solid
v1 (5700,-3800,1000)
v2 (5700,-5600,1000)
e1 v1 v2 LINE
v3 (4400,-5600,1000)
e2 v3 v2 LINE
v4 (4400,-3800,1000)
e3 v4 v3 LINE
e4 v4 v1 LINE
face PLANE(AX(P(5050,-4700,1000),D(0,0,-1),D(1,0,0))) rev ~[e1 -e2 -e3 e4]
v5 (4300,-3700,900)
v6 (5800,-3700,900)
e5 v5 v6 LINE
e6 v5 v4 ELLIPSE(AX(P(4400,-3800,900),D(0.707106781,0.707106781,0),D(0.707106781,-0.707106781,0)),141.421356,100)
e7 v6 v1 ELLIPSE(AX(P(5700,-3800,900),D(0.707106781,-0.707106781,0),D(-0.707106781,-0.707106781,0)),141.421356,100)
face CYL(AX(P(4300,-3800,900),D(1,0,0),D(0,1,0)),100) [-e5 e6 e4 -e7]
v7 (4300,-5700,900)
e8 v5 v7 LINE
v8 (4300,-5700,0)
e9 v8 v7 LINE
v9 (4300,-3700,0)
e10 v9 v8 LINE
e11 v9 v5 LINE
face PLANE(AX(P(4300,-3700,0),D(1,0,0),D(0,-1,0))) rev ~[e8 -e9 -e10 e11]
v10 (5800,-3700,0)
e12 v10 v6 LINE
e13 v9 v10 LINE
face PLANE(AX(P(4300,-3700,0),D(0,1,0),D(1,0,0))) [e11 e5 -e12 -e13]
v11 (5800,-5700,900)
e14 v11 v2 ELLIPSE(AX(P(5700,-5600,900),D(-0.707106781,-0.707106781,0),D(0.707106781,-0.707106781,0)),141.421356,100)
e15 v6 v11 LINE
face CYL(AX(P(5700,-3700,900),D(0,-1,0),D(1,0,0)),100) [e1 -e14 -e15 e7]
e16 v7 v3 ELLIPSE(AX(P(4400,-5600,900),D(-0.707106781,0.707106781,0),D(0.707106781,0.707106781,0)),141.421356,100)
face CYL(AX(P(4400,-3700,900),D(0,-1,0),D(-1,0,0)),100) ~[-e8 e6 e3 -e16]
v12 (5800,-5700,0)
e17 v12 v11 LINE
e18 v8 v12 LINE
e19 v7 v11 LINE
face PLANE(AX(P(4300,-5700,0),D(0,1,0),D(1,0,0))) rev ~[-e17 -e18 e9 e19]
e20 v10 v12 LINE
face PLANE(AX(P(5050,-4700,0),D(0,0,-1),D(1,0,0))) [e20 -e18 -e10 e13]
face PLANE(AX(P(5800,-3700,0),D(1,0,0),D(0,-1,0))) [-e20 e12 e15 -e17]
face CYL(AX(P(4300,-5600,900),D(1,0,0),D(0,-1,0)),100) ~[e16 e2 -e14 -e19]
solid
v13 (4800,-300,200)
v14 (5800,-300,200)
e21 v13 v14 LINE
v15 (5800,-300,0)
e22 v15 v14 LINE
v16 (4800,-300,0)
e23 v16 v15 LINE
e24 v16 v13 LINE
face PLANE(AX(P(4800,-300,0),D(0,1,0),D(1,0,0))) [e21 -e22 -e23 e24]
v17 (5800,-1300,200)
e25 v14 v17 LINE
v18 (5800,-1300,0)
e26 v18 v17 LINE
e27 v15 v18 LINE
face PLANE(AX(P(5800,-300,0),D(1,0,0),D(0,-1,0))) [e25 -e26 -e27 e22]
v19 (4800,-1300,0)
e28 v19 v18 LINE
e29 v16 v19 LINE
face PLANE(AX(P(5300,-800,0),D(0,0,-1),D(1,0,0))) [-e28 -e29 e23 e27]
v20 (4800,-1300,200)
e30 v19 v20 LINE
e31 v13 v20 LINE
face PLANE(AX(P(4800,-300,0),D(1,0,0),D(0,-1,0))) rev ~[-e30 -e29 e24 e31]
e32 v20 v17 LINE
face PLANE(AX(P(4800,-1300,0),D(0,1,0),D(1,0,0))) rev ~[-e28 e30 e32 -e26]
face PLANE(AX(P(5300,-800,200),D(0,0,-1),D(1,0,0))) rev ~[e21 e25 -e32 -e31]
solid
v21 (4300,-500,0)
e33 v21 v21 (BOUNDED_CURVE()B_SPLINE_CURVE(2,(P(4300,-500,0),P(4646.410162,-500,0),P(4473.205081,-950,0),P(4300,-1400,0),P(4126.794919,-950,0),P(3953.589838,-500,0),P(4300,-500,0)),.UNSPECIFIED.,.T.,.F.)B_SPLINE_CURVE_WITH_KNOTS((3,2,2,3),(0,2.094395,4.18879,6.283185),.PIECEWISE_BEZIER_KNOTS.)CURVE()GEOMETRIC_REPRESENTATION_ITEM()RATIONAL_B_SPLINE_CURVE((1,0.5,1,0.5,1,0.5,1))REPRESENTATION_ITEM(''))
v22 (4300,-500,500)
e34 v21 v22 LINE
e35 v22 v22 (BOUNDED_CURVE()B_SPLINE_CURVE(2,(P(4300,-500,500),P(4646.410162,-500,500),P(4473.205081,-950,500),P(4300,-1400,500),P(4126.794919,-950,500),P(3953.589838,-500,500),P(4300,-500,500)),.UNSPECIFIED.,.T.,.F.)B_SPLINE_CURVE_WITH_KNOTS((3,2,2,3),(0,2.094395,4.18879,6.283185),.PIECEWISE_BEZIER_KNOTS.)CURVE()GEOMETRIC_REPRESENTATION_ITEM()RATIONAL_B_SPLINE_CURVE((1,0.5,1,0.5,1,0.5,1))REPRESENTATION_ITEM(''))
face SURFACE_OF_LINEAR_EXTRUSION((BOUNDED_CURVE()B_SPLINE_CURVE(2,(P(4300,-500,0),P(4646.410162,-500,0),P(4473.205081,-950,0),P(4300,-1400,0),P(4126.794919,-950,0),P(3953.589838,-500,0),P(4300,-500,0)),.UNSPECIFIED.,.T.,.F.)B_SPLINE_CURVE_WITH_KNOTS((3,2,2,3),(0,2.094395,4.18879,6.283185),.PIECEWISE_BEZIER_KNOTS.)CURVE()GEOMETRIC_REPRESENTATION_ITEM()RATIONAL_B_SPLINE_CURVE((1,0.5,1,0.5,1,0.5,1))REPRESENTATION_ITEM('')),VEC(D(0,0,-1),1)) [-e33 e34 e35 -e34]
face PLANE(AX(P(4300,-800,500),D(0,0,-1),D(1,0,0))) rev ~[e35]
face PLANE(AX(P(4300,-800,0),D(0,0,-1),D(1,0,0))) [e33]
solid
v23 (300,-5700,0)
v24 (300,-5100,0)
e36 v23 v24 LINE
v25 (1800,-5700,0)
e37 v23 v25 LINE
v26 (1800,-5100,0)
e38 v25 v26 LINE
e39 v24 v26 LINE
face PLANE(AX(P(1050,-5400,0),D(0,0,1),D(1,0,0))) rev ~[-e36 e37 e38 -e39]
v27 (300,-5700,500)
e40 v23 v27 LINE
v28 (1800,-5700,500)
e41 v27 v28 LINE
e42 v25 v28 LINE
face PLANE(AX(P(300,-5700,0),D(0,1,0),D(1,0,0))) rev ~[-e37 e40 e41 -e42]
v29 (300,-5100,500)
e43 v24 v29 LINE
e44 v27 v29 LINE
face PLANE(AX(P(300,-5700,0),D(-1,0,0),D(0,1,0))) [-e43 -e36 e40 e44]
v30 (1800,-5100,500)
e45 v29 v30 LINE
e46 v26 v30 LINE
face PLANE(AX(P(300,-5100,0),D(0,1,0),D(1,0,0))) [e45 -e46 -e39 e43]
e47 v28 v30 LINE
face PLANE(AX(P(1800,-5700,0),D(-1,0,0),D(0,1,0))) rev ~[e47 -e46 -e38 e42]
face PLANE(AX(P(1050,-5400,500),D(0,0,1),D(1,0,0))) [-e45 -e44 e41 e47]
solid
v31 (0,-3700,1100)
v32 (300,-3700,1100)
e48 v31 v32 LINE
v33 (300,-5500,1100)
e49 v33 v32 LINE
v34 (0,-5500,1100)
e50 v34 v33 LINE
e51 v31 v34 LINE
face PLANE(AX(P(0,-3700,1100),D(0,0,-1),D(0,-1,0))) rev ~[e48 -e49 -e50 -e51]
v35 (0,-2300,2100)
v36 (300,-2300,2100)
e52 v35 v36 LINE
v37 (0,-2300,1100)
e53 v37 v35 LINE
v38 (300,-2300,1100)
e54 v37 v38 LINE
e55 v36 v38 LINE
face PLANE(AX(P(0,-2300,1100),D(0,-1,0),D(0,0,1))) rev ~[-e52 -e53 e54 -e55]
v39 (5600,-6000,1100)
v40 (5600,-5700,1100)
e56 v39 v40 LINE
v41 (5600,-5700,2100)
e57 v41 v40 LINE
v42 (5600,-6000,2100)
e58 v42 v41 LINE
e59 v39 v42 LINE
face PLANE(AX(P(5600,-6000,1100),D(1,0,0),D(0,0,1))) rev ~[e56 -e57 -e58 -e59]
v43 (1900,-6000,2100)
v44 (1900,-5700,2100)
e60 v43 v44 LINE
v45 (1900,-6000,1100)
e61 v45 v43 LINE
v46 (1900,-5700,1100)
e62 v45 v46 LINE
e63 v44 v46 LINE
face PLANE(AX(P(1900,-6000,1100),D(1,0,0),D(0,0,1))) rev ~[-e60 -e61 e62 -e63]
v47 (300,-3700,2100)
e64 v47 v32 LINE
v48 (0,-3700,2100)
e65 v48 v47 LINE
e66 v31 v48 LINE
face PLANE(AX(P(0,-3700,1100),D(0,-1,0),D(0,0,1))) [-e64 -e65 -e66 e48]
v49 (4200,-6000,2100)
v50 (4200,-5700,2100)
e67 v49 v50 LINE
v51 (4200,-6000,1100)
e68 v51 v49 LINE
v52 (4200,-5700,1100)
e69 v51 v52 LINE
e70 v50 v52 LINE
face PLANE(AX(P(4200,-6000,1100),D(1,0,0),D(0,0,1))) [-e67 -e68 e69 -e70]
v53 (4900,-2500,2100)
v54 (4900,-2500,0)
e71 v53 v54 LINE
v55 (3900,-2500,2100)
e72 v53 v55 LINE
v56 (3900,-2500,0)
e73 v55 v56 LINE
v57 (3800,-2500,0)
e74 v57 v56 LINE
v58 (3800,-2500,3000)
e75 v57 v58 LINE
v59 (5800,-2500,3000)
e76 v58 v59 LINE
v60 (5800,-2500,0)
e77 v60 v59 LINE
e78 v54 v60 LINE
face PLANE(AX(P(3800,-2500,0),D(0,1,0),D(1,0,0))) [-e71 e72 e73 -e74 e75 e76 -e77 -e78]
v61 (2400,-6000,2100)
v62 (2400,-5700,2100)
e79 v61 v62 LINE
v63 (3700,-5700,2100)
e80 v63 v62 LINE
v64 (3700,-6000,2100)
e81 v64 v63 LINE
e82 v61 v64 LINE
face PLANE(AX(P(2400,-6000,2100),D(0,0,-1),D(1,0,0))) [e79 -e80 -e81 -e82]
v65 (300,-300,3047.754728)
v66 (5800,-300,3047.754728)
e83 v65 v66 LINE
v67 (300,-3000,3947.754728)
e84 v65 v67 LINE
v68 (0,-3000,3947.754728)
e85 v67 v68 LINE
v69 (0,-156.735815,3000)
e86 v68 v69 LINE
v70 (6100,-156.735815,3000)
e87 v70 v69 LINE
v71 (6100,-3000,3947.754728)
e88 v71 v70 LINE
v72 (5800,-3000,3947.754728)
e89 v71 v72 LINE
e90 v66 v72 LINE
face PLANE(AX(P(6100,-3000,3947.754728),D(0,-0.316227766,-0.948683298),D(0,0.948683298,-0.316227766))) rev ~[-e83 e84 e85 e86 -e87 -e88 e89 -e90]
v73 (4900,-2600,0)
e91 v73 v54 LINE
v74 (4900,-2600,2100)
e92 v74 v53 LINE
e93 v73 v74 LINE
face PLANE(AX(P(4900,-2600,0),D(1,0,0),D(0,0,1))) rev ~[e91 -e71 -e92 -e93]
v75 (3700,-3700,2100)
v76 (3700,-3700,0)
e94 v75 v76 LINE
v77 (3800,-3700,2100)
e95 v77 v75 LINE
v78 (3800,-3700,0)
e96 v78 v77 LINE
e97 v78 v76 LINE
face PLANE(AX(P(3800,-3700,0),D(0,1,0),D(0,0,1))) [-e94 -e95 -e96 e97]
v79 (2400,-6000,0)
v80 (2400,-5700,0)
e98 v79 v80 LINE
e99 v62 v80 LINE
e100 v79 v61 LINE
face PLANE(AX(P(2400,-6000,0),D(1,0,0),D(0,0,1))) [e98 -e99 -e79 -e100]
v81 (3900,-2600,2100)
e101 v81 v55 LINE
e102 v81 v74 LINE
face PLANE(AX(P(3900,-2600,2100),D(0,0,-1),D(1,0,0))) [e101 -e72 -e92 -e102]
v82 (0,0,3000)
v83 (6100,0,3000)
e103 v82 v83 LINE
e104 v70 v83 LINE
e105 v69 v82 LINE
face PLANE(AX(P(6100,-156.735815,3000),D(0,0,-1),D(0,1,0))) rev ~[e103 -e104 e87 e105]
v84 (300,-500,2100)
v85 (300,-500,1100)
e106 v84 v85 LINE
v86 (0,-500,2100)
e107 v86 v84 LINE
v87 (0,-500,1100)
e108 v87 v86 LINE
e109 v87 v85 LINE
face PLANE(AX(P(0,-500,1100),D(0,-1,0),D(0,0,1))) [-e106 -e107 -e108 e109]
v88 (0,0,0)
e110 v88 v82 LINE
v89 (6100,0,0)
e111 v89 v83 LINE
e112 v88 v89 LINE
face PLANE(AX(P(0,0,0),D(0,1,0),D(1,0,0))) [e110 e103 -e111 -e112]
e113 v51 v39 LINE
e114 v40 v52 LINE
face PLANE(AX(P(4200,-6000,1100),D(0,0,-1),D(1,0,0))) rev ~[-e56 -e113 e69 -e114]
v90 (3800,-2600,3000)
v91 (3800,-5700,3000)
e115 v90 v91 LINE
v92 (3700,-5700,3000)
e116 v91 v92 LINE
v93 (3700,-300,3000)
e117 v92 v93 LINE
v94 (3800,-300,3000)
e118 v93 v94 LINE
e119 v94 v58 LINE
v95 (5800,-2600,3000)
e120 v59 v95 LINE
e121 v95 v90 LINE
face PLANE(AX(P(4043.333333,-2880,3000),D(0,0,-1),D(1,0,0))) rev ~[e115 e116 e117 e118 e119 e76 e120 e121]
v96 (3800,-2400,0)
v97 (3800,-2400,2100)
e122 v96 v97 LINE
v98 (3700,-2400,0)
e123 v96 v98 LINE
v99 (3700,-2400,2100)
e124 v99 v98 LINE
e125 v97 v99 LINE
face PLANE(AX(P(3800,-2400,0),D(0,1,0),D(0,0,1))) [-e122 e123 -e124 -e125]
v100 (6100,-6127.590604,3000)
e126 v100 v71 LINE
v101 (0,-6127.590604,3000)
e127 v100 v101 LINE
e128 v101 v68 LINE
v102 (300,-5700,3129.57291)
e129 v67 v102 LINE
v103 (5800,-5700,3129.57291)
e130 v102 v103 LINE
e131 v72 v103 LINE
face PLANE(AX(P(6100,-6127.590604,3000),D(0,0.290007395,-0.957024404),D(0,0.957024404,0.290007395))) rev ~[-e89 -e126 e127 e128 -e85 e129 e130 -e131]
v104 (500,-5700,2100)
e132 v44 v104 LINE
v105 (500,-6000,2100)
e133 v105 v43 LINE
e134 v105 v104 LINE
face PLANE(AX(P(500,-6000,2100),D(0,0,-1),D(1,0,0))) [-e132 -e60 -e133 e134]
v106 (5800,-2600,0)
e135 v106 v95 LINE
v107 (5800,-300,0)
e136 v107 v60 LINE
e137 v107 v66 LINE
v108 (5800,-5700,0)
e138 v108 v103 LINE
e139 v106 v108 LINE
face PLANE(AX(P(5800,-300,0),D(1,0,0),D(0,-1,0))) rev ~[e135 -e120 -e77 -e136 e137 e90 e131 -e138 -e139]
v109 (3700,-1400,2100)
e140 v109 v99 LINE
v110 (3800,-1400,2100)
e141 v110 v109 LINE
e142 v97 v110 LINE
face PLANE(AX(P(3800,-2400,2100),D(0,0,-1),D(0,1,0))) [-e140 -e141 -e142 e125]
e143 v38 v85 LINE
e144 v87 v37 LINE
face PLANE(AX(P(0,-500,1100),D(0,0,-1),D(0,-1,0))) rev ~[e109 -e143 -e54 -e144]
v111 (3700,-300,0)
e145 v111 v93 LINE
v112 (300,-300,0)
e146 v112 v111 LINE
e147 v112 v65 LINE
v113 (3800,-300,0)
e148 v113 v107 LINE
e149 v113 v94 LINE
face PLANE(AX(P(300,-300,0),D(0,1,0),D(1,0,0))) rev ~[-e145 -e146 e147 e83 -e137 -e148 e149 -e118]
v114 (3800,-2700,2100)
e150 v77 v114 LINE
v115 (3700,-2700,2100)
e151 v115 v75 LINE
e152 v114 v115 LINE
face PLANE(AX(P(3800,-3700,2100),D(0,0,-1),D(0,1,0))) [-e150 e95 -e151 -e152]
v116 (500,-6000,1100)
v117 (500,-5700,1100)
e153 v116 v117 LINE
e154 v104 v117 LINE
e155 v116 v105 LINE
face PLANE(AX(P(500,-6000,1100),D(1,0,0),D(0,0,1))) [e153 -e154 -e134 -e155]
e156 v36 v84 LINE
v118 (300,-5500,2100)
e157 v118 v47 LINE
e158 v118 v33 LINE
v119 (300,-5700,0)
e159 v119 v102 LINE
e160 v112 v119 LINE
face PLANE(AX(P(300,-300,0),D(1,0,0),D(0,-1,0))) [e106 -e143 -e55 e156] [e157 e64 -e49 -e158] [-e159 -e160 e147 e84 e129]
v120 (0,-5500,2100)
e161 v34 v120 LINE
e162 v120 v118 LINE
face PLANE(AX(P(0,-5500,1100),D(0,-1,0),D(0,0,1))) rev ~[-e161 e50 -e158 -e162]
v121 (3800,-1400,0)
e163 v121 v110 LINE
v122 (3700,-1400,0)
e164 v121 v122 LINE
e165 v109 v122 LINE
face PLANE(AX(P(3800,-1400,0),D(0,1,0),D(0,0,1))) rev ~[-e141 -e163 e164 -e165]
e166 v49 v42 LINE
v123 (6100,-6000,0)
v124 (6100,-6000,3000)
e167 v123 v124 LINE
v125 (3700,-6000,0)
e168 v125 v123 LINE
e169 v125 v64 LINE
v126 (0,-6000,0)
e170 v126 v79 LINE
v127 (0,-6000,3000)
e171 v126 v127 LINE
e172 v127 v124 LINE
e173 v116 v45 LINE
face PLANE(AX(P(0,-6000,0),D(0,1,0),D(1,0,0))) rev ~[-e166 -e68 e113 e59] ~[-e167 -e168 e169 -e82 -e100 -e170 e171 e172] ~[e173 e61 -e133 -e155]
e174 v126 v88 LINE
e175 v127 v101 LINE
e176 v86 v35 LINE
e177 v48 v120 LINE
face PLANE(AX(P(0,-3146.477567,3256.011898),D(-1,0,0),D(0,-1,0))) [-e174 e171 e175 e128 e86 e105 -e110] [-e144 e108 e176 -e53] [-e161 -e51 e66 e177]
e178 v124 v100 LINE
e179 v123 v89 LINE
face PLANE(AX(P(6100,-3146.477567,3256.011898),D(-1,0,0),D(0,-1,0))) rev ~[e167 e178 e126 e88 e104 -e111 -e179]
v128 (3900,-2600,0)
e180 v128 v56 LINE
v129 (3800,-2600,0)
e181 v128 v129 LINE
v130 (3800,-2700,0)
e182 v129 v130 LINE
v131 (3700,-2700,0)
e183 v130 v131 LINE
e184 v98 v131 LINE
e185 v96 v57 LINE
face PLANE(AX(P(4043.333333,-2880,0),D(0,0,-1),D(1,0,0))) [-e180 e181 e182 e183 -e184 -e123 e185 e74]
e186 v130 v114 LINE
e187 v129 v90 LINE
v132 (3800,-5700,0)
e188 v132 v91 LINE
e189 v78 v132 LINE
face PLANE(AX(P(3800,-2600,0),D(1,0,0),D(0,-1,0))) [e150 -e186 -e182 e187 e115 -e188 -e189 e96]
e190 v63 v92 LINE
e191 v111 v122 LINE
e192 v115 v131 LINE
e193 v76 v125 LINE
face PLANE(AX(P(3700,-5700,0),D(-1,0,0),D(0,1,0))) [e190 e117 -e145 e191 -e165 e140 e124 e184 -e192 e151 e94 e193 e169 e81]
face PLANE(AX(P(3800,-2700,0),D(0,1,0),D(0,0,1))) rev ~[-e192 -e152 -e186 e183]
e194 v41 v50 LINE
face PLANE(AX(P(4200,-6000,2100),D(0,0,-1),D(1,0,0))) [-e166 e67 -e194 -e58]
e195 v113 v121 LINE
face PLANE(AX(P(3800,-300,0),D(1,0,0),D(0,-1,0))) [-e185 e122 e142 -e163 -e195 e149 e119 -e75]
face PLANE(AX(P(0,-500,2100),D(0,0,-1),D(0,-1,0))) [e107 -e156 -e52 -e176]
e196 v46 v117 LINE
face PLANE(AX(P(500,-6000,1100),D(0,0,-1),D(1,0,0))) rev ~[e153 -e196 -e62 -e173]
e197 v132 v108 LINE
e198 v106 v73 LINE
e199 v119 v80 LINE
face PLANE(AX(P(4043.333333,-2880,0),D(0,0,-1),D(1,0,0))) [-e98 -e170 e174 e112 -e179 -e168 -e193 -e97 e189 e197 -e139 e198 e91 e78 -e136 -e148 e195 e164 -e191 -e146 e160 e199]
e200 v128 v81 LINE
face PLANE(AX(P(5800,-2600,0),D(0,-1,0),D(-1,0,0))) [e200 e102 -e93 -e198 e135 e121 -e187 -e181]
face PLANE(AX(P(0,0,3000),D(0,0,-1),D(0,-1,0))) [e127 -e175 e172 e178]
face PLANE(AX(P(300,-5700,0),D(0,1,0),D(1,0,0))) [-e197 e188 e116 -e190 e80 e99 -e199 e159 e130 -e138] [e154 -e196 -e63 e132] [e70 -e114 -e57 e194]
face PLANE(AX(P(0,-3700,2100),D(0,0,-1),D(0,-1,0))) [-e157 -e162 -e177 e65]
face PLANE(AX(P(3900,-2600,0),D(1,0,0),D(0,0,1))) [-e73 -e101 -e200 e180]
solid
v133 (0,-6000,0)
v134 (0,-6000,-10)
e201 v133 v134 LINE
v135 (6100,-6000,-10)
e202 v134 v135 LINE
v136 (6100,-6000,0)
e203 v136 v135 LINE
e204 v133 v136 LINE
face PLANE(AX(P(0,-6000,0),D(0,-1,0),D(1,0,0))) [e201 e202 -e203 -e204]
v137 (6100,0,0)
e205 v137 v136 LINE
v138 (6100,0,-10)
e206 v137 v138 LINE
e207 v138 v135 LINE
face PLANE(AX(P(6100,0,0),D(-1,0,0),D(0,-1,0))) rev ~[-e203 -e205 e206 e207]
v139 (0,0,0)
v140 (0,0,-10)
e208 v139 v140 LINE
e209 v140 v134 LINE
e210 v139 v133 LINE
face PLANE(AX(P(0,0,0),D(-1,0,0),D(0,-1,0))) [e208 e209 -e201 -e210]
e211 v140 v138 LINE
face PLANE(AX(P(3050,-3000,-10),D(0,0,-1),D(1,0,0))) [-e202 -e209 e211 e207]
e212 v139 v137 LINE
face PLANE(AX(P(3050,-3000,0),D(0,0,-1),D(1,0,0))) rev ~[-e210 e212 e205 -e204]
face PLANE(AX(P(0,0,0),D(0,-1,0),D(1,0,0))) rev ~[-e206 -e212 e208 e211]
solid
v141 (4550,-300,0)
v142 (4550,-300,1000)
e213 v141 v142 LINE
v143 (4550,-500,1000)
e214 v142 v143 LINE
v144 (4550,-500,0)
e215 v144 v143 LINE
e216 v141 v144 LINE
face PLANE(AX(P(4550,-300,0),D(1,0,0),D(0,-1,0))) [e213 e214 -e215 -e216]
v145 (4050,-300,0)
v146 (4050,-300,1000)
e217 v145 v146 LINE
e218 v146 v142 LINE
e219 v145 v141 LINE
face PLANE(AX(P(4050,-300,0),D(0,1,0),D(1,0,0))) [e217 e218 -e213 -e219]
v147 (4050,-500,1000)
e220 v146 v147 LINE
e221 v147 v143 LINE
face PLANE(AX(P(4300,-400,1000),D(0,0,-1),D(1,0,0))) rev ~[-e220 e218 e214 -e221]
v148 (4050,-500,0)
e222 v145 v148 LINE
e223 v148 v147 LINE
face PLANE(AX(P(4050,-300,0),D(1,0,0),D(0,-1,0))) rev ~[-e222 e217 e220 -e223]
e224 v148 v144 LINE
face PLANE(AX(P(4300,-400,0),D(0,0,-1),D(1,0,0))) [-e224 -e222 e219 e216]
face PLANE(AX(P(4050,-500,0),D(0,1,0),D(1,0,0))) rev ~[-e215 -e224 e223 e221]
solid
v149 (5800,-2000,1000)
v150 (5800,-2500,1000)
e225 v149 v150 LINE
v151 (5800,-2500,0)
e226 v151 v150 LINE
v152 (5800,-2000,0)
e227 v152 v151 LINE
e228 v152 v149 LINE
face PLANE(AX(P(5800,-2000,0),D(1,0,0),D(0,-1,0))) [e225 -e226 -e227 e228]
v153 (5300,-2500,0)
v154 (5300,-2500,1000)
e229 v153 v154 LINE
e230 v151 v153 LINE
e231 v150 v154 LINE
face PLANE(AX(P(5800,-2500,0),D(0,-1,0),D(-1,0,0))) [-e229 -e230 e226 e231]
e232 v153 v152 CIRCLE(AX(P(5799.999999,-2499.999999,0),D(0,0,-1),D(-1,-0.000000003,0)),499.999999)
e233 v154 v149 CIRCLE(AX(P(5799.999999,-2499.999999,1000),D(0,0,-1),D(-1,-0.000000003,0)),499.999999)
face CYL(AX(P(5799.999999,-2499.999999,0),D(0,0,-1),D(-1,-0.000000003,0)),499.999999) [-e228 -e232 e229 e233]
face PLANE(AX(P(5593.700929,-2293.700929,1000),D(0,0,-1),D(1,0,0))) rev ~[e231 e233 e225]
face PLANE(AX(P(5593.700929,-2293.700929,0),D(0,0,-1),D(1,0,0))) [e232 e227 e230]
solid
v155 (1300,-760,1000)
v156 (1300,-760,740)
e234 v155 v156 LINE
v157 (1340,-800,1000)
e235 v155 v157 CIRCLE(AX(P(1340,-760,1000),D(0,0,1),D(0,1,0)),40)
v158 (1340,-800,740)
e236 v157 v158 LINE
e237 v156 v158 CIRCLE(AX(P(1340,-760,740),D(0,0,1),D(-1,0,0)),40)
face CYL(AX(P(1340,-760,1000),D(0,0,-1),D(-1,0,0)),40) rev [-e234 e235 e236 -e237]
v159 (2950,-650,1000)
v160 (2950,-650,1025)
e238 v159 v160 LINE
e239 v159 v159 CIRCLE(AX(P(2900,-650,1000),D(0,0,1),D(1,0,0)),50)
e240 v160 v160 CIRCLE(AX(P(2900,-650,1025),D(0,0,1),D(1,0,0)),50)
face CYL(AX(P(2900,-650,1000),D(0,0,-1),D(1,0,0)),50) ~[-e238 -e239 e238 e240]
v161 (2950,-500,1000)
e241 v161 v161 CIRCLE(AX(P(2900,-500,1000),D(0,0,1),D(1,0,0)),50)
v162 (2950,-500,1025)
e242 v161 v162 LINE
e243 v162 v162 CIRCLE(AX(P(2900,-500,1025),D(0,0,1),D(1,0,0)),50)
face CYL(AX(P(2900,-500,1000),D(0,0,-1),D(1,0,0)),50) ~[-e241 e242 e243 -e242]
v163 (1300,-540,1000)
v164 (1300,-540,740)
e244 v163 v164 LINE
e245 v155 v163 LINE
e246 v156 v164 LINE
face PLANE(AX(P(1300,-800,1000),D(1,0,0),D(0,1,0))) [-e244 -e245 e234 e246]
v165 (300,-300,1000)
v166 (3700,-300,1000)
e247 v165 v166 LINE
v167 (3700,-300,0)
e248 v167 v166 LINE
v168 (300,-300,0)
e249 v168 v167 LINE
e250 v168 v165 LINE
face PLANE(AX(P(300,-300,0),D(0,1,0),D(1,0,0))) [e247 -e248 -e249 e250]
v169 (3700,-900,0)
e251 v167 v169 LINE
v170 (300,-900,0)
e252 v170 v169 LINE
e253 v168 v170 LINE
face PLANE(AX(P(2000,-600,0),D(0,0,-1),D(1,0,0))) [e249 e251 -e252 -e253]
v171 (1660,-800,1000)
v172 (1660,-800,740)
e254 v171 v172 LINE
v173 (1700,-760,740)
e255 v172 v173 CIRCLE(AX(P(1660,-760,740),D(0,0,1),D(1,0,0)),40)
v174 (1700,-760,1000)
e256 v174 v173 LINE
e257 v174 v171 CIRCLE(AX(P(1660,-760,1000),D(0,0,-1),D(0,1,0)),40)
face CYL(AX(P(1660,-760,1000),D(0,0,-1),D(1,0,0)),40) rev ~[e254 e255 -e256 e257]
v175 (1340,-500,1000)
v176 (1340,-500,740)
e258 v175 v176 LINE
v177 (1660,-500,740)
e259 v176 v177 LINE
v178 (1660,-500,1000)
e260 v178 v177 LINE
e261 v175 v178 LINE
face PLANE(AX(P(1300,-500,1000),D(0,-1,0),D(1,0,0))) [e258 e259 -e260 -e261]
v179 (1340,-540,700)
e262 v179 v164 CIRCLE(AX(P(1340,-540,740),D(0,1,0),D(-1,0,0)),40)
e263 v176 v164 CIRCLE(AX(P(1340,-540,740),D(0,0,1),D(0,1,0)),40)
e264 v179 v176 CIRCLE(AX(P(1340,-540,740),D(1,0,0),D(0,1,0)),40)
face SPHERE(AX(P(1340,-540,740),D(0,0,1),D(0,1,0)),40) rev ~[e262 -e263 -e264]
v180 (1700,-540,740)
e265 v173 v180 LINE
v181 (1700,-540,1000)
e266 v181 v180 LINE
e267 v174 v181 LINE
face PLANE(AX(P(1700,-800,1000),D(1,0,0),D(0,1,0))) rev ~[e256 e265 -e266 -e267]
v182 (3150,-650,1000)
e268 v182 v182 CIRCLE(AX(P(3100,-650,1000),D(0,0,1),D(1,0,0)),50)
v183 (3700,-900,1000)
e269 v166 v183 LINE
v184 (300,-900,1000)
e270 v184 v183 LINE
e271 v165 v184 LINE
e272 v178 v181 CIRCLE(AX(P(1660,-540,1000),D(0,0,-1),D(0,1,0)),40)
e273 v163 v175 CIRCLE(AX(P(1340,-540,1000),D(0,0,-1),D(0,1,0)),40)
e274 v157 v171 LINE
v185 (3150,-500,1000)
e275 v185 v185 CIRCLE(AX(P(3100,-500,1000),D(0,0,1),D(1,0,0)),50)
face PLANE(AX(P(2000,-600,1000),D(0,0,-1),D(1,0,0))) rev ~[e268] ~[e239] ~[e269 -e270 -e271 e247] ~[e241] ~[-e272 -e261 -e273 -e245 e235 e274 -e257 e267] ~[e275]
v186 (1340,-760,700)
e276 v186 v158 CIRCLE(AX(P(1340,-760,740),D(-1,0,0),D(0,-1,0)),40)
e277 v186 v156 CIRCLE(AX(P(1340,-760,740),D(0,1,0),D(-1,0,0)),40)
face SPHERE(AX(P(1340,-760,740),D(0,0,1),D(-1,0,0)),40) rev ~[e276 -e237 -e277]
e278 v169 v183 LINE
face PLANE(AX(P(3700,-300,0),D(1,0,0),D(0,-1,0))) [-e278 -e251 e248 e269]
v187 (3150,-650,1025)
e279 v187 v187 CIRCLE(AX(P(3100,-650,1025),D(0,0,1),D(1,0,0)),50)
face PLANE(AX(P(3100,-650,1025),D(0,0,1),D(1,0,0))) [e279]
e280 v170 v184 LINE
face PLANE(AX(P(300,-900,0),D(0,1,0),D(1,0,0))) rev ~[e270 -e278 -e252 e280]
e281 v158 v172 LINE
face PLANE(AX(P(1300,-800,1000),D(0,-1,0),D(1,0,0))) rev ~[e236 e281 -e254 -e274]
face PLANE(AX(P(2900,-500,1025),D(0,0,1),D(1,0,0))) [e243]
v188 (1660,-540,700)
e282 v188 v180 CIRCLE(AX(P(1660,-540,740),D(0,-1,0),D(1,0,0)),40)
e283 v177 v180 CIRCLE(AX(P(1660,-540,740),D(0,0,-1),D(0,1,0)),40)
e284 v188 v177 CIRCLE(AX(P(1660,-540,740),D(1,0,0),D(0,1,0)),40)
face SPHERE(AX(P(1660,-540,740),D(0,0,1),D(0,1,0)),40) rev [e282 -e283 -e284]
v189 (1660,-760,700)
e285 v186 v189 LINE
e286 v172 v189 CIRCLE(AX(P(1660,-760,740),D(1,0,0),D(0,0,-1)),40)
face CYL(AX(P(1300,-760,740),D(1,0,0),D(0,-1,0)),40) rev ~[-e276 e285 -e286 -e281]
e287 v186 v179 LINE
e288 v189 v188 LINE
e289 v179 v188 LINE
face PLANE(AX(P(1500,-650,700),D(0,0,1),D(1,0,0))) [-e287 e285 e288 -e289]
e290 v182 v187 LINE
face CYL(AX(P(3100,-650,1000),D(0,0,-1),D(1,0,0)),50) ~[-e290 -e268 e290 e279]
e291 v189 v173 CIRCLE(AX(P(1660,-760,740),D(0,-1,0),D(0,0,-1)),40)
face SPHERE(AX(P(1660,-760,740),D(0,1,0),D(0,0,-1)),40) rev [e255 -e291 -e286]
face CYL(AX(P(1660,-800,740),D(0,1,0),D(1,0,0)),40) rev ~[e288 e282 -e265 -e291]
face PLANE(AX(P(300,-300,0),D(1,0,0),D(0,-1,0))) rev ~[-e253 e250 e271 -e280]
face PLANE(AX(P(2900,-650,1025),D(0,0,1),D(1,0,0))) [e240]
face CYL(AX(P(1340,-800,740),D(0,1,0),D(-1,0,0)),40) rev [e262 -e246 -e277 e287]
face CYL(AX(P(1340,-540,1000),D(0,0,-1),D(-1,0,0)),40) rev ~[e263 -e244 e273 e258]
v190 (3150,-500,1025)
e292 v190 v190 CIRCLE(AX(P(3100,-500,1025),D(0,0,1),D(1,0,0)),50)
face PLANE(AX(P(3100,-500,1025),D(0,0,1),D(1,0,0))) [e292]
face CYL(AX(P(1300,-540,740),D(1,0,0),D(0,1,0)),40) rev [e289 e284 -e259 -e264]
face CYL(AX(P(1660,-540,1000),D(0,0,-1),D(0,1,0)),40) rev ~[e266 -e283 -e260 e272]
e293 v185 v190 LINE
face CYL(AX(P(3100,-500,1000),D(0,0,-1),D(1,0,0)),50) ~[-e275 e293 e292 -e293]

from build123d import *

# Parameters (mm, degrees)
F0_W      = 6100
F0_H      = 6000
F1_DEPTH  = 3000
F3_DEPTH  = 6100
F5_DEPTH  = 6100
F6_W      = 5500
F6_H      = 5400
F7_DEPTH  = 3947.755728
F8_W      = 1300
F8_H      = 2100
F8_W_2    = 1400
F8_H_2    = 1000
F9_DEPTH  = 1000
F10_W     = 1500
F10_H     = 2000
F11_DEPTH = 1000
F12_W     = 1000
F12_H     = 1000
F13_DEPTH = 200
F15_DEPTH = 3000
F16_W     = 1800
F16_H     = 1000
F17_DEPTH = 1000
F19_DEPTH = 500
F20_W     = 500
F20_H     = 200
F21_DEPTH = 1000
F23_DEPTH = 1000
F24_W     = 1000
F24_H     = 2100
F25_DEPTH = 500
F26_W     = 3400
F26_H     = 600
F27_DEPTH = 1000
F28_W     = 400
F28_H     = 300
F29_DEPTH = 300
F30_W     = 1000
F30_H     = 2100
F31_DEPTH = 500
F32_R     = 40
F33_R     = 100
F34_W     = 6100
F34_H     = 6000
F35_DEPTH = 10
F36_R     = 50
F37_DEPTH = 25
F38_W     = 1500
F38_H     = 600
F39_DEPTH = 500


with BuildPart() as f1:
    # F0 (on Top) → F1 (new body)
    with BuildSketch(Plane.XY):
        with Locations((3050, -3000)):
            Rectangle(F0_W, F0_H)
    extrude(amount=F1_DEPTH)

    # F2 (on face) → F3 (join)
    with BuildSketch(Plane(origin=(0, 0, 0), x_dir=(0, -1, 0), z_dir=(-1, 0, 0))):
        Polygon((3000, 4000), (0, 3000), (6300, 3000), align=None)
    extrude(amount=-F3_DEPTH)

    # F4 (on face) → F5 (cut)
    with BuildSketch(Plane.YZ.offset(6100)):
        Polygon((-3000, 4000), (-6300, 3000), (-6127.590604, 3000), (-3000, 3947.754728), (-156.735815, 3000), (0, 3000), align=None)
    extrude(amount=-F5_DEPTH, mode=Mode.SUBTRACT)

    # F6 (on face) → F7 (cut, through all)
    with BuildSketch(Plane(origin=(0, 0, 0), x_dir=(1, 0, 0), z_dir=(0, 0, -1))):
        with Locations((3050, 3000)):
            Rectangle(F6_W, F6_H)
    extrude(amount=-F7_DEPTH, mode=Mode.SUBTRACT)

    # F8 (on face) → F9 (cut)
    with BuildSketch(Plane.XZ.offset(6000)):
        with Locations((3050, 1050)):
            Rectangle(F8_W, F8_H)
        with Locations((4900, 1600)):
            Rectangle(F8_W_2, F8_H_2)
        with Locations((1200, 1600)):
            Rectangle(F8_W_2, F8_H_2)
    extrude(amount=-F9_DEPTH, mode=Mode.SUBTRACT)

    # F14 (on face) → F15 (join)
    with BuildSketch(Plane(origin=(0, 0, 0), x_dir=(1, 0, 0), z_dir=(0, 0, -1))):
        Polygon((3800, 5700), (3700, 5700), (3700, 300), (3800, 300), (3800, 2500), (5800, 2500), (5800, 2600), (3800, 2600), align=None)
    extrude(amount=-F15_DEPTH)

    # F16 (on face) → F17 (cut)
    with BuildSketch(Plane(origin=(0, 0, 0), x_dir=(0, -1, 0), z_dir=(-1, 0, 0))):
        with Locations((4600, 1600)):
            Rectangle(F16_W, F16_H)
        with Locations((1400, 1600)):
            Rectangle(F16_W, F16_H)
    extrude(amount=-F17_DEPTH, mode=Mode.SUBTRACT)

    # F24 (on face) → F25 (cut)
    with BuildSketch(Plane.YZ.offset(3800)):
        with Locations((-1900, 1050)):
            Rectangle(F24_W, F24_H)
        with Locations((-3200, 1050)):
            Rectangle(F24_W, F24_H)
    extrude(amount=-F25_DEPTH, mode=Mode.SUBTRACT)

    # F30 (on face) → F31 (cut)
    with BuildSketch(Plane.XZ.offset(2600)):
        with Locations((4400, 1050)):
            Rectangle(F30_W, F30_H)
    extrude(amount=-F31_DEPTH, mode=Mode.SUBTRACT)


with BuildPart() as f11:
    # F10 (on face) → F11 (new body)
    with BuildSketch(Plane(origin=(0, 0, 0), x_dir=(1, 0, 0), z_dir=(0, 0, -1))):
        with Locations((5050, 4700)):
            Rectangle(F10_W, F10_H)
    extrude(amount=-F11_DEPTH)

    # F33
    f33_edges = [f11.edges().sort_by_distance(p)[0] for p in [
        (5800, -4700, 1000),
        (5050, -5700, 1000),
        (4300, -4700, 1000),
        (5050, -3700, 1000),
    ]]
    fillet(f33_edges, radius=F33_R)


with BuildPart() as f13:
    # F12 (on face) → F13 (new body)
    with BuildSketch(Plane(origin=(0, 0, 0), x_dir=(1, 0, 0), z_dir=(0, 0, -1))):
        with Locations((5300, 800)):
            Rectangle(F12_W, F12_H)
    extrude(amount=-F13_DEPTH)


with BuildPart() as f19:
    # F18 (on face) → F19 (new body)
    with BuildSketch(Plane(origin=(0, 0, 0), x_dir=(1, 0, 0), z_dir=(0, 0, -1))):
        with BuildLine():
            add(Edge.make_bspline(
                [(4300, 500), (4646.410162, 500), (4473.205081, 950), (4300, 1400), (4126.794919, 950), (3953.589838, 500), (4300, 500)],
                knots=[0, 0, 0, 2.094395, 2.094395, 4.18879, 4.18879, 6.283185, 6.283185, 6.283185], degree=2, weights=[1, 0.5, 1, 0.5, 1, 0.5, 1]))
        make_face()
    extrude(amount=-F19_DEPTH)


with BuildPart() as f21:
    # F20 (on face) → F21 (new body)
    with BuildSketch(Plane(origin=(0, 0, 0), x_dir=(1, 0, 0), z_dir=(0, 0, -1))):
        with Locations((4300, 400)):
            Rectangle(F20_W, F20_H)
    extrude(amount=-F21_DEPTH)


with BuildPart() as f23:
    # F22 (on face) → F23 (new body)
    with BuildSketch(Plane(origin=(0, 0, 0), x_dir=(1, 0, 0), z_dir=(0, 0, -1))):
        with BuildLine():
            Line((5800, 2000), (5800, 2500))
            Line((5800, 2500), (5300, 2500))
            ThreePointArc((5300, 2500), (5446.446609, 2146.446609), (5800, 2000))
        make_face()
    extrude(amount=-F23_DEPTH)


with BuildPart() as f27:
    # F26 (on face) → F27 (new body)
    with BuildSketch(Plane(origin=(0, 0, 0), x_dir=(1, 0, 0), z_dir=(0, 0, -1))):
        with Locations((2000, 600)):
            Rectangle(F26_W, F26_H)
    extrude(amount=-F27_DEPTH)

    # F28 (on face) → F29 (cut)
    with BuildSketch(Plane.XY.offset(1000)):
        with Locations((1500, -650)):
            Rectangle(F28_W, F28_H)
    extrude(amount=-F29_DEPTH, mode=Mode.SUBTRACT)

    # F32
    f32_edges = [f27.edges().sort_by_distance(p)[0] for p in [
        (1700, -500, 850),
        (1300, -500, 850),
        (1300, -800, 850),
        (1500, -500, 700),
        (1700, -650, 700),
        (1300, -650, 700),
        (1500, -800, 700),
        (1700, -800, 850),
    ]]
    fillet(f32_edges, radius=F32_R)

    # F36 (on face) → F37 (join)
    with BuildSketch(Plane.XY.offset(1000)):
        with Locations((2900, -650)):
            Circle(F36_R)
        with Locations((3100, -650)):
            Circle(F36_R)
        with Locations((3100, -500)):
            Circle(F36_R)
        with Locations((2900, -500)):
            Circle(F36_R)
    extrude(amount=F37_DEPTH)


with BuildPart() as f35:
    # F34 (on face) → F35 (new body)
    with BuildSketch(Plane(origin=(0, 0, 0), x_dir=(1, 0, 0), z_dir=(0, 0, -1))):
        with Locations((3050, 3000)):
            Rectangle(F34_W, F34_H)
    extrude(amount=F35_DEPTH)


with BuildPart() as f39:
    # F38 (on face) → F39 (new body)
    with BuildSketch(Plane.XY):
        with Locations((1050, -5400)):
            Rectangle(F38_W, F38_H)
    extrude(amount=F39_DEPTH)


solid = Compound([f1.part, f11.part, f13.part, f19.part, f21.part, f23.part, f27.part, f35.part, f39.part])
